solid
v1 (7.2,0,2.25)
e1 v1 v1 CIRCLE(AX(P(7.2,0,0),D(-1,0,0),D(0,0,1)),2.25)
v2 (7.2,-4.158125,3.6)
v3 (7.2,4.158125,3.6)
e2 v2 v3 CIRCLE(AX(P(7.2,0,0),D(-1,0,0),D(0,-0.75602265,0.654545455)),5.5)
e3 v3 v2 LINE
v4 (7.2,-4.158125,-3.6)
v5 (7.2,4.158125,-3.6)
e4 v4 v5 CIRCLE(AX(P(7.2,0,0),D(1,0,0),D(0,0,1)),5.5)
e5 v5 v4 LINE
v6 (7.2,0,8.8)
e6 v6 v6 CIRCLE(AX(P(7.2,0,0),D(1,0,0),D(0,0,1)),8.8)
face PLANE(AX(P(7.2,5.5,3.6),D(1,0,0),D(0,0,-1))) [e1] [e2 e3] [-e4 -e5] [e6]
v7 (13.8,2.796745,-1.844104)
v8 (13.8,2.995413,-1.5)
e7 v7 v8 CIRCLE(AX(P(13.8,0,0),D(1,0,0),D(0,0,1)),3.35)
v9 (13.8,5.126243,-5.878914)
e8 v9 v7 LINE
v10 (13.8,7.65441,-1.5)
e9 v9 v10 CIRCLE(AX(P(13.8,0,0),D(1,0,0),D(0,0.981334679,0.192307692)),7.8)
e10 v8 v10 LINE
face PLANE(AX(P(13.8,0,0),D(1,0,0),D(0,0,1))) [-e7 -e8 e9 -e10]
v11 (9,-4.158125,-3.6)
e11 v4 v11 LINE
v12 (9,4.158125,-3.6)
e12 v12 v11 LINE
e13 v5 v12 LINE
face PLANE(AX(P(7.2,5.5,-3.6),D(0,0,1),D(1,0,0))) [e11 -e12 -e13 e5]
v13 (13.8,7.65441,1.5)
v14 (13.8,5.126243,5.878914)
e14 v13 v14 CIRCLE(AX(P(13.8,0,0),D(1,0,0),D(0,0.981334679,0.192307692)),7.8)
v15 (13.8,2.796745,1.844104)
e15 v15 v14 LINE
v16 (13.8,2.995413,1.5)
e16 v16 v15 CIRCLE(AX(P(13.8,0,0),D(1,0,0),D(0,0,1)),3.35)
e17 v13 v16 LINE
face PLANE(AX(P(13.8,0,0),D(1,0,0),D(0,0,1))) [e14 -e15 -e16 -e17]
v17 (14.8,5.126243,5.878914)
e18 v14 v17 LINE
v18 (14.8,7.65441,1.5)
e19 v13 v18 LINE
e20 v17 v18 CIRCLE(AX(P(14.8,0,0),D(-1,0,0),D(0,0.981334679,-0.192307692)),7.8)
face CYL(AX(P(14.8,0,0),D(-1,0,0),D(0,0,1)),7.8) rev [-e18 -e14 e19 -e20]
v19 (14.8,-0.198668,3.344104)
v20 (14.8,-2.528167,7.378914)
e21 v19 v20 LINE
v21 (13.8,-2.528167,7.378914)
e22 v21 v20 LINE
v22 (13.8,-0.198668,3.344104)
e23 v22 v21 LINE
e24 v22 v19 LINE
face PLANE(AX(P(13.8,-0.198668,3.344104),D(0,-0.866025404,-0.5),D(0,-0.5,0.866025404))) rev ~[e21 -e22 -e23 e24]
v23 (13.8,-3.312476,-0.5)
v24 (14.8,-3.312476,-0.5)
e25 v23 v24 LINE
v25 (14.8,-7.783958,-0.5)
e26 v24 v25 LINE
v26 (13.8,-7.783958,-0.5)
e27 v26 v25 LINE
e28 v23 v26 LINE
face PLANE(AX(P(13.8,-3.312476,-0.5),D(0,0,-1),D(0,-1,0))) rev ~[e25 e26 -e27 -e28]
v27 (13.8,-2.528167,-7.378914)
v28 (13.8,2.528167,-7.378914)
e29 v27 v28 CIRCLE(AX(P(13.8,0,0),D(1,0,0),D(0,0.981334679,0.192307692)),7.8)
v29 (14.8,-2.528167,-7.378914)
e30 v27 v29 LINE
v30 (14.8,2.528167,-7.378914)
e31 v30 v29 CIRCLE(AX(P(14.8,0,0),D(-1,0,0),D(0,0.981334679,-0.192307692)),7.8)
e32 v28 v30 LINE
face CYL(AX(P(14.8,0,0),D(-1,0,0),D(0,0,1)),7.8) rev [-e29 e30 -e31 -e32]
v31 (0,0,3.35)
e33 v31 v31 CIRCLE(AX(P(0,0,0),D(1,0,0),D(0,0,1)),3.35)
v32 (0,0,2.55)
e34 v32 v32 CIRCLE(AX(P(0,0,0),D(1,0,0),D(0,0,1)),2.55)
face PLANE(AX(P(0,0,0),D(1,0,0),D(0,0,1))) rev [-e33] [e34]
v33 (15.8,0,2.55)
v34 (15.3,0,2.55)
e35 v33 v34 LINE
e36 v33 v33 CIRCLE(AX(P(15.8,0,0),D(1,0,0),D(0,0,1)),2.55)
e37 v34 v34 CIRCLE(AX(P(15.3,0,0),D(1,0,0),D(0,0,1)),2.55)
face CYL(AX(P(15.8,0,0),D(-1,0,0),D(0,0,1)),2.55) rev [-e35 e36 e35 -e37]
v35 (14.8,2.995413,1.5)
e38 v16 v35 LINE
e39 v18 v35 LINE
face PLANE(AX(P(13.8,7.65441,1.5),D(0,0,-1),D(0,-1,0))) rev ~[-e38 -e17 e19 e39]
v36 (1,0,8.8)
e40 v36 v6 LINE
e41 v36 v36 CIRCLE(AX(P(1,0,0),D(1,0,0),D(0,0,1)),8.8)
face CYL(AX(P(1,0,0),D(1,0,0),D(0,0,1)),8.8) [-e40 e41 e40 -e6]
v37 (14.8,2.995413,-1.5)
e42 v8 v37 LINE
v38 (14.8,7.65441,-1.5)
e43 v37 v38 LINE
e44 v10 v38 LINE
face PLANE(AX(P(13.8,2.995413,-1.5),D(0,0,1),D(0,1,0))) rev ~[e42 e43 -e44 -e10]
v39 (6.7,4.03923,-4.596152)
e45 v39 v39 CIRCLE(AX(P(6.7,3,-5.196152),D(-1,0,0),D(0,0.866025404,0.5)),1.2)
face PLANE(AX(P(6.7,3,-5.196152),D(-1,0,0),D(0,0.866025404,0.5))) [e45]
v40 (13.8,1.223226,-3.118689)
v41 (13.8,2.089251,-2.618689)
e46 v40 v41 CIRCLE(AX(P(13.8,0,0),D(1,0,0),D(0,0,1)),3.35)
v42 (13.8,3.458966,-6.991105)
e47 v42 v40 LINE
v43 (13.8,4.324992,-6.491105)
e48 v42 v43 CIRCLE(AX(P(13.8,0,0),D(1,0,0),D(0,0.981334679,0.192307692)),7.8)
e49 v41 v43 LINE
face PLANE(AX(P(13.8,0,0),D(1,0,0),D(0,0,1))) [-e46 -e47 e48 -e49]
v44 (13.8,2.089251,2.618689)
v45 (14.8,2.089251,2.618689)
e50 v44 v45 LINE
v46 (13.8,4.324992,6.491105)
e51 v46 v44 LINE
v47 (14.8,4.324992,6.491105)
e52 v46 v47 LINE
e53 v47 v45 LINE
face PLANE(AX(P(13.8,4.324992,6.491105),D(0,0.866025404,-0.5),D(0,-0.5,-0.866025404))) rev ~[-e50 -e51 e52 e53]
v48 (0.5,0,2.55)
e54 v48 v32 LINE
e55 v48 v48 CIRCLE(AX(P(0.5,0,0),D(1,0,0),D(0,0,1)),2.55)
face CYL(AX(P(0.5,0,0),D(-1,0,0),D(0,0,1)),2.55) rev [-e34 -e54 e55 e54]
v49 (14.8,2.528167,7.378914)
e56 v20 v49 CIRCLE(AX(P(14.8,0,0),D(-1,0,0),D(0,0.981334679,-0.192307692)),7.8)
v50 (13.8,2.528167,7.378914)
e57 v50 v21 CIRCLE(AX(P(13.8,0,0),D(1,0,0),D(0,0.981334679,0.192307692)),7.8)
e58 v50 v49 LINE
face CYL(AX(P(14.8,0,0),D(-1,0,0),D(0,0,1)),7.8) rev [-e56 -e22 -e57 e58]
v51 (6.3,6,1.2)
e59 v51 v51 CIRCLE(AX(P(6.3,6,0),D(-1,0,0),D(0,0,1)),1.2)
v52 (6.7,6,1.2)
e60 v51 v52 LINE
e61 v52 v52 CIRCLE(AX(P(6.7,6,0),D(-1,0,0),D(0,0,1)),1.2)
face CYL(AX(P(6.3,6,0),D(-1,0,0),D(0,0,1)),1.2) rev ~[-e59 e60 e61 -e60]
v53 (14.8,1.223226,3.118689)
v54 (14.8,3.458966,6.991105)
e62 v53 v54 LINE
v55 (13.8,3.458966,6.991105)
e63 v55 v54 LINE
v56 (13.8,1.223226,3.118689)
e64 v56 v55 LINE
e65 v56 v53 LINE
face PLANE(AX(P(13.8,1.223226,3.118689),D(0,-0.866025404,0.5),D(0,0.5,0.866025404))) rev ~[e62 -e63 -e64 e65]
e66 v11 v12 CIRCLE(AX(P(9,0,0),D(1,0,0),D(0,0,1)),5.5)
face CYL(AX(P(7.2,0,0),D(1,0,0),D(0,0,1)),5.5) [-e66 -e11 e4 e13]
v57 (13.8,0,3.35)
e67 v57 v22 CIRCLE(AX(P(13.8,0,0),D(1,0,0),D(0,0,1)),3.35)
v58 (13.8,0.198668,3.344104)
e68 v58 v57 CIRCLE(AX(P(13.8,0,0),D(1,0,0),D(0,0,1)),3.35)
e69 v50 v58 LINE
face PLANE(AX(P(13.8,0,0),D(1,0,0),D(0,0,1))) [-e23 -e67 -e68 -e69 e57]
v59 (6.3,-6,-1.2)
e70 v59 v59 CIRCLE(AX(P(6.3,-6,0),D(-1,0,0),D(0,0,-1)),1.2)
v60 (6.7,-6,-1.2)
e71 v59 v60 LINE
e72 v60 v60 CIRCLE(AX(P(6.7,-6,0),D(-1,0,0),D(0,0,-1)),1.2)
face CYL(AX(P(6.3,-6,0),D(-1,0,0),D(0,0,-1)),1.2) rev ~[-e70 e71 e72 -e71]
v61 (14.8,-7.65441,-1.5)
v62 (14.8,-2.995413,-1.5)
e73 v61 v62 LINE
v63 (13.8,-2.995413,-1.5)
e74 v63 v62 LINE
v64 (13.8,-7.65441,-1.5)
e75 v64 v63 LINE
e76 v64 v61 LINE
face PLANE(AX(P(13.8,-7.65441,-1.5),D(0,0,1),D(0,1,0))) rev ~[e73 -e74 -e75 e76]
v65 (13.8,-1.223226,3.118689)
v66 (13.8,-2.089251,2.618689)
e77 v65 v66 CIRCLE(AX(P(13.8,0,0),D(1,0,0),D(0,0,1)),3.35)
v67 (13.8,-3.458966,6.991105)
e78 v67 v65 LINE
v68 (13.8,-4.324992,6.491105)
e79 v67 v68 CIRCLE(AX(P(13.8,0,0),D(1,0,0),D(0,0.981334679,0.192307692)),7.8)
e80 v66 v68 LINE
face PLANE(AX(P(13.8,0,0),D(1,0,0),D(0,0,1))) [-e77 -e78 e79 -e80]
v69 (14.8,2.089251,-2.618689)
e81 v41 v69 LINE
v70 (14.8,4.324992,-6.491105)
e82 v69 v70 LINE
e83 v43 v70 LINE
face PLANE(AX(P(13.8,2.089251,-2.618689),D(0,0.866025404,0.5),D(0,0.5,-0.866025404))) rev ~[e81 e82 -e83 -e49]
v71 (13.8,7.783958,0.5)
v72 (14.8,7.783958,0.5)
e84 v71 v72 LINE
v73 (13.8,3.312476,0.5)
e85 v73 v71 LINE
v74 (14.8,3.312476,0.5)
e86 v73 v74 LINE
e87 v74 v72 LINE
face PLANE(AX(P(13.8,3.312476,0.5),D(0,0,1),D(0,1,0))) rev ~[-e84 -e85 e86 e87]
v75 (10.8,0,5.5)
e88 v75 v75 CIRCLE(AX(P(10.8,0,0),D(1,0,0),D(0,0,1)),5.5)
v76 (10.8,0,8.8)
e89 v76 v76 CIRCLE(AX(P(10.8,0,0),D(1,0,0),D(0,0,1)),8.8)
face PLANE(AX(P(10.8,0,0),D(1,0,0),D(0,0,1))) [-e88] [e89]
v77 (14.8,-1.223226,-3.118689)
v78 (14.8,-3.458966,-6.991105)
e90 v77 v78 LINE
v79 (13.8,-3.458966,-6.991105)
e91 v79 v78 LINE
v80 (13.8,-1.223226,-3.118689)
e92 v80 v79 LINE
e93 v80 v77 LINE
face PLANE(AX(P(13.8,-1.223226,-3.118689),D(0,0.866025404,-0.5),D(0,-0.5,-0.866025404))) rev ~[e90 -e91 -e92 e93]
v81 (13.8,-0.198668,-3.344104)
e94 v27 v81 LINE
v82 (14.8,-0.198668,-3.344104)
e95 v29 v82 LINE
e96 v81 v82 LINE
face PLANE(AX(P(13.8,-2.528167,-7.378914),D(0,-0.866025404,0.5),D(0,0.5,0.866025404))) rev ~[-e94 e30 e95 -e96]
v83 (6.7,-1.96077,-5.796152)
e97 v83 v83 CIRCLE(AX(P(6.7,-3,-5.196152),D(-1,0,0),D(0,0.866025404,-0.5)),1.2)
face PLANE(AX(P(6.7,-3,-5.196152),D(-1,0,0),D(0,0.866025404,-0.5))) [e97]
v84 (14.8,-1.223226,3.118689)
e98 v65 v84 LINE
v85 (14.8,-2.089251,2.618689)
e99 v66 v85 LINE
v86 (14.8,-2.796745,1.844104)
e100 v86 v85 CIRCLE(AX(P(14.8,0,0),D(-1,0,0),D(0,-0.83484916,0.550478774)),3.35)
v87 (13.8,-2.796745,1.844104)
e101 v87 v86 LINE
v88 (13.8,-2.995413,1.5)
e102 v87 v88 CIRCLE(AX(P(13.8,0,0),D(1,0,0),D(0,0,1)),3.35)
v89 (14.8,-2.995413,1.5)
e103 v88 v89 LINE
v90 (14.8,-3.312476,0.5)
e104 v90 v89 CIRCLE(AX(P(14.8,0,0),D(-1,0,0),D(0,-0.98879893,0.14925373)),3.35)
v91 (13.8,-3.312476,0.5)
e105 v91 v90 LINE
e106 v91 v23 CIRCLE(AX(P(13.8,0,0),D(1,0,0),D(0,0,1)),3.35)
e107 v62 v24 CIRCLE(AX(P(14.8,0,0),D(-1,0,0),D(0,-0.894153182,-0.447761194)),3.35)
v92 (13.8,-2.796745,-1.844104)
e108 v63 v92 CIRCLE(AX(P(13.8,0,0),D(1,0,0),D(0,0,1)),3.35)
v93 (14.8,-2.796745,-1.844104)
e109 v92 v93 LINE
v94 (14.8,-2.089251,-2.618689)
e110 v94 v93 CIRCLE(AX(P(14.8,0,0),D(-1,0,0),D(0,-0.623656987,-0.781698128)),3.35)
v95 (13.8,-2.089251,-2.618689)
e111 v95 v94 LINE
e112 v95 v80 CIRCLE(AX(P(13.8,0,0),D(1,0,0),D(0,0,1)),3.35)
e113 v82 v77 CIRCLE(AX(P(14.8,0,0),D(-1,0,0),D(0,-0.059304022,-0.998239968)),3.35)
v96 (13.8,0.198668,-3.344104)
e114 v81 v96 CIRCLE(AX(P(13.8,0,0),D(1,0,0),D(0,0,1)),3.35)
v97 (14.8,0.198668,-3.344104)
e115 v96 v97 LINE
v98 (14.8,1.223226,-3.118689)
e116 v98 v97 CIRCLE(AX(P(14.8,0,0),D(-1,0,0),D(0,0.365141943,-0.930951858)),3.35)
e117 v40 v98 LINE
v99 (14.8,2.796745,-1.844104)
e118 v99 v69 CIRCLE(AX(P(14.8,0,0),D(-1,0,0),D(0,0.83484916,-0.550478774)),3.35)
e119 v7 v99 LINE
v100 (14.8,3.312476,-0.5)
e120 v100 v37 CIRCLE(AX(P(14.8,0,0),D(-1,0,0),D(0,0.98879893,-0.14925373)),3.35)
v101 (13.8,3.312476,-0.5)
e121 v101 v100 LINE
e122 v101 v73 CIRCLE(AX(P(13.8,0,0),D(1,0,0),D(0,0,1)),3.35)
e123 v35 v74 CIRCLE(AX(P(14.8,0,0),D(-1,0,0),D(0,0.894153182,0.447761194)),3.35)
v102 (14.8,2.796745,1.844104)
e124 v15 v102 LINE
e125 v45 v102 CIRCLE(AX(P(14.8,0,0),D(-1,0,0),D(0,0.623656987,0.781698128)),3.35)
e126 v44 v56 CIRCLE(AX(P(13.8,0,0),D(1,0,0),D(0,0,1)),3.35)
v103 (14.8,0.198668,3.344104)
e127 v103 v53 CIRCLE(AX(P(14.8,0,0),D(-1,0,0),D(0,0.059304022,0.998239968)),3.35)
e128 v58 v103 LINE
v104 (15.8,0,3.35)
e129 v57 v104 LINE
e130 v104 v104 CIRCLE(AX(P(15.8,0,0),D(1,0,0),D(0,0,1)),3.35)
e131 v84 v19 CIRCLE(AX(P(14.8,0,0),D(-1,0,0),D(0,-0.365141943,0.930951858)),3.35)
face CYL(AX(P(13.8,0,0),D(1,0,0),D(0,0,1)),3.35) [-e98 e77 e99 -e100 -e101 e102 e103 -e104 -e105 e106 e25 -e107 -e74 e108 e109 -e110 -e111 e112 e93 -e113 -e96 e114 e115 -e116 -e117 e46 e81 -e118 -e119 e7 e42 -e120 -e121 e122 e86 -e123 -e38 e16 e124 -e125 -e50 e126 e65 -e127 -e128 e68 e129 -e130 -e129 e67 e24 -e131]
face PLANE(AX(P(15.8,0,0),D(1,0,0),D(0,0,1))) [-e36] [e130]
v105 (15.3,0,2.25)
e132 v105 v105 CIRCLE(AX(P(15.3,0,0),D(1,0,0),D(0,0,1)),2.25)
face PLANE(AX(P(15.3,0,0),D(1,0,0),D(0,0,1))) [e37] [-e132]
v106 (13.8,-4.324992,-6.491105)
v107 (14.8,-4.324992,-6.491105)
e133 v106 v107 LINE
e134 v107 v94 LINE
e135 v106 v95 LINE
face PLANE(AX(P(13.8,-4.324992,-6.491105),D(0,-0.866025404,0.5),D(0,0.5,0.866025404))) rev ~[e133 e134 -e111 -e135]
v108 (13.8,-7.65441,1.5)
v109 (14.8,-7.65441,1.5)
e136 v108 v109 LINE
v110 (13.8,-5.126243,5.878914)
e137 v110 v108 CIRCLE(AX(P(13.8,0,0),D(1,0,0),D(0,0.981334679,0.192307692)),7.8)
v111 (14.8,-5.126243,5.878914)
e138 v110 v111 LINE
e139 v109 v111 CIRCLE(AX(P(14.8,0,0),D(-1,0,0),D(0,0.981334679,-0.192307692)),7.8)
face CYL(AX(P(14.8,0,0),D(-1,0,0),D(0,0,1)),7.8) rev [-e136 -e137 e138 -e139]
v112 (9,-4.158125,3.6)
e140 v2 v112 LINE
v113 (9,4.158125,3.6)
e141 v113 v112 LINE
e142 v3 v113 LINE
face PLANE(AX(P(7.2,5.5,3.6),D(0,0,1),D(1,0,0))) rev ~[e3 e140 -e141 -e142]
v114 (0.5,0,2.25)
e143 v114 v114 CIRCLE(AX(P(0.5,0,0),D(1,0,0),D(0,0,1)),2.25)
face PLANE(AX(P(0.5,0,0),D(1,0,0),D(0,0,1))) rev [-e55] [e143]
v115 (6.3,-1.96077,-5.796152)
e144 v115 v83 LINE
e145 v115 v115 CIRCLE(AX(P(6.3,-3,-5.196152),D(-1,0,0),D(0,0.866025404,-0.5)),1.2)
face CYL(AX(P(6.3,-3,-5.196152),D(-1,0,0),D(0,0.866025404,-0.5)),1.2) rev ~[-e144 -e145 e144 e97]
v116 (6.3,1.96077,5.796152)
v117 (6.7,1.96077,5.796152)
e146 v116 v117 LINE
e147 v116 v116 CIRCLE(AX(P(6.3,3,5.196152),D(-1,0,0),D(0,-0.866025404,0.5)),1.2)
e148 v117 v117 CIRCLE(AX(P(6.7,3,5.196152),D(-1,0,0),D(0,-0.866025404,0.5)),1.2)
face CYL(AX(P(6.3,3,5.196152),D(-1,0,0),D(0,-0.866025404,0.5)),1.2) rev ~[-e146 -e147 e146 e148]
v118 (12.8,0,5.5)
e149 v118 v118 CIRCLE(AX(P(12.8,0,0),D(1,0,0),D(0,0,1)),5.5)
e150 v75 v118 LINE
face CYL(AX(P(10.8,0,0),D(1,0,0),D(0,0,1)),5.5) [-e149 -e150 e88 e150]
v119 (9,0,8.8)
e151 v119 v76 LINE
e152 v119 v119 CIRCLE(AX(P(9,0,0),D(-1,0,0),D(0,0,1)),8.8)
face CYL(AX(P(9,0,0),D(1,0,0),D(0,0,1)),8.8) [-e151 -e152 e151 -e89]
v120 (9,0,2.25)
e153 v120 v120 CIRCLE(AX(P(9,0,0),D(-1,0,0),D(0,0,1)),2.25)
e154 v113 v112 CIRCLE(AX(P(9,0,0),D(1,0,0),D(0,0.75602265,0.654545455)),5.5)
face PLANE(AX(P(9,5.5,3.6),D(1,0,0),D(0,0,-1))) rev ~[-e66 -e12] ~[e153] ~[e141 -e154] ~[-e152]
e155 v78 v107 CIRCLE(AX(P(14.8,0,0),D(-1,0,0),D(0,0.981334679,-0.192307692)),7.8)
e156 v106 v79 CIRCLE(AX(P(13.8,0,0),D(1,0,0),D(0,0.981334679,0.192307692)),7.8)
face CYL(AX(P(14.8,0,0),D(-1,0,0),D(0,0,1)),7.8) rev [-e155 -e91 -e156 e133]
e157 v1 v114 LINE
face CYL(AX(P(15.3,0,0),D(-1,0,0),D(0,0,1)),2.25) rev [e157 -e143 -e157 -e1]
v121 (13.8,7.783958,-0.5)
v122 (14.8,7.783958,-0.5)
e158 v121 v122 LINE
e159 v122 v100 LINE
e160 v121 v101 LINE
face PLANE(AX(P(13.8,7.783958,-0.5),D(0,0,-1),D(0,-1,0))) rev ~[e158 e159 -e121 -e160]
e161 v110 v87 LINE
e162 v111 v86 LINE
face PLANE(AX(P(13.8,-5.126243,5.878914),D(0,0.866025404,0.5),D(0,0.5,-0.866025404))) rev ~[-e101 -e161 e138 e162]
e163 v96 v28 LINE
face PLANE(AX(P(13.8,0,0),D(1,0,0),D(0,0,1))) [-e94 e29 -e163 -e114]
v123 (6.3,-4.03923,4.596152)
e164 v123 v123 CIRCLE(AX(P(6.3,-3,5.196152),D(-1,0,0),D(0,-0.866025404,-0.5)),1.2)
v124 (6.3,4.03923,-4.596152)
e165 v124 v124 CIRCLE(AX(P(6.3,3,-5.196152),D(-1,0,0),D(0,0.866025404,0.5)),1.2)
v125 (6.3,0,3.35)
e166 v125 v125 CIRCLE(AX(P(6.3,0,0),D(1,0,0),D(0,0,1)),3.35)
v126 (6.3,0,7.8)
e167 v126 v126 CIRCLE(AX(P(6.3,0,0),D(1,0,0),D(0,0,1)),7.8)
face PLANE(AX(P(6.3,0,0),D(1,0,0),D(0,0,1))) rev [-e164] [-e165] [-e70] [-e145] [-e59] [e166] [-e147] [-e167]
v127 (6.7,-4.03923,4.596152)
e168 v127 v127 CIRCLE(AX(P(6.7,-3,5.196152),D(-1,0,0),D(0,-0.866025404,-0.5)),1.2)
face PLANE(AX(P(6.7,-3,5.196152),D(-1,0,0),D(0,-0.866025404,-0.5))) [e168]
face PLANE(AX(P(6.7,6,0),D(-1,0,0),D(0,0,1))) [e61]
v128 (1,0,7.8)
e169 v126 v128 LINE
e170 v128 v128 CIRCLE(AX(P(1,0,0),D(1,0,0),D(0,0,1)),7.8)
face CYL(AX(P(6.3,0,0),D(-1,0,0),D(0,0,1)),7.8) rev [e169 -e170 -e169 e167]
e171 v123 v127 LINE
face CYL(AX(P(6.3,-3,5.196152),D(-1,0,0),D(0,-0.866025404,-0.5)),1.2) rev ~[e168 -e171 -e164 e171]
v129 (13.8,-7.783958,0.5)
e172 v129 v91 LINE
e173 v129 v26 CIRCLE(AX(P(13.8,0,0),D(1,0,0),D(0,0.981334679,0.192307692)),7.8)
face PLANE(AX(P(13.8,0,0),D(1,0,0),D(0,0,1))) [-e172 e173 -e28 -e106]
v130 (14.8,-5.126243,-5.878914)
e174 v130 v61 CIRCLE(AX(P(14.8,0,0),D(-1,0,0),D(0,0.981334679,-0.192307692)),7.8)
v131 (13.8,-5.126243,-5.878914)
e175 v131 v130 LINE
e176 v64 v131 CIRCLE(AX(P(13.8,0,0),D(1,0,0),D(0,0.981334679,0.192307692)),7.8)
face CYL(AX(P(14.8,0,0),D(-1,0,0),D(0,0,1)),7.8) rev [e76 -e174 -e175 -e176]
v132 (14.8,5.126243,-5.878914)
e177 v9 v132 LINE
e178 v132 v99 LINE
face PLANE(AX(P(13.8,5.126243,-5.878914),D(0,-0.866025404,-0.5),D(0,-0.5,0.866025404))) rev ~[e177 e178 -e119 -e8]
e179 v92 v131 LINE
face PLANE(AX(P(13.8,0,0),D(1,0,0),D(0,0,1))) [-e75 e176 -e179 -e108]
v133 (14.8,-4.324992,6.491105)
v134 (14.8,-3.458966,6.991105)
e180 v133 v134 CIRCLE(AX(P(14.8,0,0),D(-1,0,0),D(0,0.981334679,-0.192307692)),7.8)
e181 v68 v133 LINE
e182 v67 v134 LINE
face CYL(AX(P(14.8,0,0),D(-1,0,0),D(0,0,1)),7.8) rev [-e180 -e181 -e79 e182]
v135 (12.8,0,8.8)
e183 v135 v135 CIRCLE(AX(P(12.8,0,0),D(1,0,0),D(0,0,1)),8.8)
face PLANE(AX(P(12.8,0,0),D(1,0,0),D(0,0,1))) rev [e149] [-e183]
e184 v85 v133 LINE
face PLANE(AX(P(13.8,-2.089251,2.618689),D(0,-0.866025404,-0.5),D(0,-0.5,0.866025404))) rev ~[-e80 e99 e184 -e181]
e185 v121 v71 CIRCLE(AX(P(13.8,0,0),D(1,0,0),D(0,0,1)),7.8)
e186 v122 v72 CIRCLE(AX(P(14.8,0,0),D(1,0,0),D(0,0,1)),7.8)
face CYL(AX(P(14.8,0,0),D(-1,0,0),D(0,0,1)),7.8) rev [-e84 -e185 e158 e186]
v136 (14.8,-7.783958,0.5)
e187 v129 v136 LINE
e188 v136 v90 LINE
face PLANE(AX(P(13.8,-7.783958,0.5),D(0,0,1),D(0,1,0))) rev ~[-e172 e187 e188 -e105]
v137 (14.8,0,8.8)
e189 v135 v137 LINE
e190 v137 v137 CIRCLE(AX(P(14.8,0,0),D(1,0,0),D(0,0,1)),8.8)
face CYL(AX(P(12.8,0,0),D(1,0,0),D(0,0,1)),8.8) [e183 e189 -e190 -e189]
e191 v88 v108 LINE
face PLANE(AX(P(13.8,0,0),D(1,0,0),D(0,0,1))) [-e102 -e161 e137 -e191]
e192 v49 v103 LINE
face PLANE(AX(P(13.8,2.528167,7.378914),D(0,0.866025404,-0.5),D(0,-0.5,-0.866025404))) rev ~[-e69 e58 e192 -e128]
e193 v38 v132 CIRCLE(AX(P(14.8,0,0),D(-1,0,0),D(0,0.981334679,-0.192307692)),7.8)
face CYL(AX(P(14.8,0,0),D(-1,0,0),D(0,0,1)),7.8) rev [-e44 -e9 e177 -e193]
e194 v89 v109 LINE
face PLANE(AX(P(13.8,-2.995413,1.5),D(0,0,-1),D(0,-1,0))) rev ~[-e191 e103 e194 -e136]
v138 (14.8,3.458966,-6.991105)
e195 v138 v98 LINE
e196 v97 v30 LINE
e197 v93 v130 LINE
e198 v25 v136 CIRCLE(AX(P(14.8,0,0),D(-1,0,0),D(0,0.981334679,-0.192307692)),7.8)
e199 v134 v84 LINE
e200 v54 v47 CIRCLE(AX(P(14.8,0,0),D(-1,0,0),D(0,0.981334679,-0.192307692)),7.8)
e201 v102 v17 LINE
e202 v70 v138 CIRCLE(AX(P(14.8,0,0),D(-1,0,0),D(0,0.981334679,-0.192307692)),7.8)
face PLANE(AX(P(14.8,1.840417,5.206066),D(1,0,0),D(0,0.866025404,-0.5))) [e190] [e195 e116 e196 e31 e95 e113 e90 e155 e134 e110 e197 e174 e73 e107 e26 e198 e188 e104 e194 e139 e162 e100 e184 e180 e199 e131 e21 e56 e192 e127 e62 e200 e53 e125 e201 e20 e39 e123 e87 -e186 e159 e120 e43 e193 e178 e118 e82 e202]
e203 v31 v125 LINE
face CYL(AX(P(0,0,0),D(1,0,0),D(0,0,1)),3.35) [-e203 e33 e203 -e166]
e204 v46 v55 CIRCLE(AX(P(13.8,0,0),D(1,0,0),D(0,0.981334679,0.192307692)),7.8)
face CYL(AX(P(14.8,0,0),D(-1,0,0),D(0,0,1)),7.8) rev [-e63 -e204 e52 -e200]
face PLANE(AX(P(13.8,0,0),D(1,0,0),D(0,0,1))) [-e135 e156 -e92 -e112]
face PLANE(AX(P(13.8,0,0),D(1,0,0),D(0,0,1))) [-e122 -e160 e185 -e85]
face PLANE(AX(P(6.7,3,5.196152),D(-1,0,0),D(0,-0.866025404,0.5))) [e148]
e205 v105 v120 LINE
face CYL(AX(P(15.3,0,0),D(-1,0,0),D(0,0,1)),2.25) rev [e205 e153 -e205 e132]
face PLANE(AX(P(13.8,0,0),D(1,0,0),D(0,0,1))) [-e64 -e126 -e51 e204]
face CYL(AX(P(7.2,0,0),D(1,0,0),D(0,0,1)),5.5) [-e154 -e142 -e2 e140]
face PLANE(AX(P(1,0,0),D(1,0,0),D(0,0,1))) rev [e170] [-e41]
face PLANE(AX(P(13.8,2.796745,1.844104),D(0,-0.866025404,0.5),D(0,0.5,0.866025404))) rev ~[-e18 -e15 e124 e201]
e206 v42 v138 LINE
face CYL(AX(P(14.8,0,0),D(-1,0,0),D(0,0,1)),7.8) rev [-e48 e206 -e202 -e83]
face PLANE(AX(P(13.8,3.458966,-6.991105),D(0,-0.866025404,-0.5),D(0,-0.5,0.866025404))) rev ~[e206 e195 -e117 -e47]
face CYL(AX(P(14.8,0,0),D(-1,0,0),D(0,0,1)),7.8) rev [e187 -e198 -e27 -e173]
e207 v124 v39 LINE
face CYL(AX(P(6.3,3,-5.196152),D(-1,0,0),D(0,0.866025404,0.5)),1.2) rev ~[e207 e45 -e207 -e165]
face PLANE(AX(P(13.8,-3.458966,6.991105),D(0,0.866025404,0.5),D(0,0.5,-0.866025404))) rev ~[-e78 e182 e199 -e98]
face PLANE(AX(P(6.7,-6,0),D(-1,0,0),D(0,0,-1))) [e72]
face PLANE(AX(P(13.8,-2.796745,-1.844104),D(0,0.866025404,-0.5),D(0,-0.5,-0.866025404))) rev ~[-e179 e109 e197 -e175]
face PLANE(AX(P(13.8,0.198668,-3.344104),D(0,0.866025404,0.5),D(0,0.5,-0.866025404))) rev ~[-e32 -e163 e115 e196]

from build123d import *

# Parameters (mm, degrees)
BOSS_EXTRUDE2_DEPTH = 1
CIRPATTERN1_COUNT   = 6
SKETCH3_W           = 1.8
SKETCH3_H           = 7.2
CUT_EXTRUDE1_DEPTH  = 24.055801873
SKETCH4_R           = 1.2
CUT_EXTRUDE2_DEPTH  = 0.4
CIRPATTERN2_COUNT   = 6


with BuildPart() as part:
    # Sketch1 → Revolve1 (revolve)
    with BuildSketch(Plane.XY, mode=Mode.PRIVATE) as revolve1_sk:
        Polygon((15.8, 3.35), (15.8, 2.55), (15.3, 2.55), (15.3, 2.25), (0.5, 2.25), (0.5, 2.55), (0, 2.55), (0, 3.35), (6.3, 3.35), (6.3, 7.8), (1, 7.8), (1, 8.8), (7.2, 8.8), (7.2, 5.5), (9, 5.5), (9, 8.8), (10.8, 8.8), (10.8, 5.5), (12.8, 5.5), (12.8, 8.8), (14.8, 8.8), (14.8, 7.8), (13.8, 7.8), (13.8, 3.35), align=None)
    revolve(revolve1_sk.sketch.rotate(Axis((0, 0, 0), (1, 0, 0)), 90), axis=Axis((0, 0, 0), (1, 0, 0)))

    # Sketch2 → Boss-Extrude2 (add)
    with BuildSketch(Plane(origin=(13.8, 0, 0), x_dir=(0, 0, -1), z_dir=(1, 0, 0))):
        with BuildLine():
            Line((-1.5, 7.654410493), (-1.5, 2.99541316))
            ThreePointArc((-1.5, 2.99541316), (-1.012488161, 3.193331759), (-0.5, 3.312476415))
            Line((-0.5, 3.312476415), (-0.5, 7.783957862))
            ThreePointArc((-0.5, 7.783957862), (-1.002095619, 7.735360649), (-1.5, 7.654410493))
        make_face()
        with BuildLine():
            Line((0.5, 7.783957862), (0.5, 3.312476415))
            ThreePointArc((0.5, 3.312476415), (1.012469043, 3.193337821), (1.5, 2.99541316))
            Line((1.5, 2.99541316), (1.5, 7.654410493))
            ThreePointArc((1.5, 7.654410493), (1.002095619, 7.735360649), (0.5, 7.783957862))
        make_face()
    boss_extrude2 = extrude(amount=BOSS_EXTRUDE2_DEPTH)

    # CirPattern1: Boss-Extrude2 ×6 about axis
    cirpattern1_axis = Axis((0, 0, 0), (1, 0, 0))
    for i in range(1, CIRPATTERN1_COUNT):
        add(boss_extrude2.rotate(cirpattern1_axis, i * 360 / CIRPATTERN1_COUNT))

    # Sketch3 → Cut-Extrude1 (cut, through all)
    with BuildSketch(Plane(origin=(0, 5.5, 0), x_dir=(1, 0, 0), z_dir=(0, 1, 0))):
        with Locations((8.1, 0)):
            Rectangle(SKETCH3_W, SKETCH3_H)
    extrude(amount=-CUT_EXTRUDE1_DEPTH, mode=Mode.SUBTRACT)

    # Sketch4 → Cut-Extrude2 (cut)
    with BuildSketch(Plane.ZY.offset(-6.3)):
        with Locations((0, 6)):
            Circle(SKETCH4_R)
    cut_extrude2 = extrude(amount=-CUT_EXTRUDE2_DEPTH, mode=Mode.SUBTRACT)

    # CirPattern2: Cut-Extrude2 ×6 about axis
    cirpattern2_axis = Axis((0, 0, 0), (1, 0, 0))
    for i in range(1, CIRPATTERN2_COUNT):
        add(cut_extrude2.rotate(cirpattern2_axis, i * 360 / CIRPATTERN2_COUNT), mode=Mode.SUBTRACT)


solid = part.part
